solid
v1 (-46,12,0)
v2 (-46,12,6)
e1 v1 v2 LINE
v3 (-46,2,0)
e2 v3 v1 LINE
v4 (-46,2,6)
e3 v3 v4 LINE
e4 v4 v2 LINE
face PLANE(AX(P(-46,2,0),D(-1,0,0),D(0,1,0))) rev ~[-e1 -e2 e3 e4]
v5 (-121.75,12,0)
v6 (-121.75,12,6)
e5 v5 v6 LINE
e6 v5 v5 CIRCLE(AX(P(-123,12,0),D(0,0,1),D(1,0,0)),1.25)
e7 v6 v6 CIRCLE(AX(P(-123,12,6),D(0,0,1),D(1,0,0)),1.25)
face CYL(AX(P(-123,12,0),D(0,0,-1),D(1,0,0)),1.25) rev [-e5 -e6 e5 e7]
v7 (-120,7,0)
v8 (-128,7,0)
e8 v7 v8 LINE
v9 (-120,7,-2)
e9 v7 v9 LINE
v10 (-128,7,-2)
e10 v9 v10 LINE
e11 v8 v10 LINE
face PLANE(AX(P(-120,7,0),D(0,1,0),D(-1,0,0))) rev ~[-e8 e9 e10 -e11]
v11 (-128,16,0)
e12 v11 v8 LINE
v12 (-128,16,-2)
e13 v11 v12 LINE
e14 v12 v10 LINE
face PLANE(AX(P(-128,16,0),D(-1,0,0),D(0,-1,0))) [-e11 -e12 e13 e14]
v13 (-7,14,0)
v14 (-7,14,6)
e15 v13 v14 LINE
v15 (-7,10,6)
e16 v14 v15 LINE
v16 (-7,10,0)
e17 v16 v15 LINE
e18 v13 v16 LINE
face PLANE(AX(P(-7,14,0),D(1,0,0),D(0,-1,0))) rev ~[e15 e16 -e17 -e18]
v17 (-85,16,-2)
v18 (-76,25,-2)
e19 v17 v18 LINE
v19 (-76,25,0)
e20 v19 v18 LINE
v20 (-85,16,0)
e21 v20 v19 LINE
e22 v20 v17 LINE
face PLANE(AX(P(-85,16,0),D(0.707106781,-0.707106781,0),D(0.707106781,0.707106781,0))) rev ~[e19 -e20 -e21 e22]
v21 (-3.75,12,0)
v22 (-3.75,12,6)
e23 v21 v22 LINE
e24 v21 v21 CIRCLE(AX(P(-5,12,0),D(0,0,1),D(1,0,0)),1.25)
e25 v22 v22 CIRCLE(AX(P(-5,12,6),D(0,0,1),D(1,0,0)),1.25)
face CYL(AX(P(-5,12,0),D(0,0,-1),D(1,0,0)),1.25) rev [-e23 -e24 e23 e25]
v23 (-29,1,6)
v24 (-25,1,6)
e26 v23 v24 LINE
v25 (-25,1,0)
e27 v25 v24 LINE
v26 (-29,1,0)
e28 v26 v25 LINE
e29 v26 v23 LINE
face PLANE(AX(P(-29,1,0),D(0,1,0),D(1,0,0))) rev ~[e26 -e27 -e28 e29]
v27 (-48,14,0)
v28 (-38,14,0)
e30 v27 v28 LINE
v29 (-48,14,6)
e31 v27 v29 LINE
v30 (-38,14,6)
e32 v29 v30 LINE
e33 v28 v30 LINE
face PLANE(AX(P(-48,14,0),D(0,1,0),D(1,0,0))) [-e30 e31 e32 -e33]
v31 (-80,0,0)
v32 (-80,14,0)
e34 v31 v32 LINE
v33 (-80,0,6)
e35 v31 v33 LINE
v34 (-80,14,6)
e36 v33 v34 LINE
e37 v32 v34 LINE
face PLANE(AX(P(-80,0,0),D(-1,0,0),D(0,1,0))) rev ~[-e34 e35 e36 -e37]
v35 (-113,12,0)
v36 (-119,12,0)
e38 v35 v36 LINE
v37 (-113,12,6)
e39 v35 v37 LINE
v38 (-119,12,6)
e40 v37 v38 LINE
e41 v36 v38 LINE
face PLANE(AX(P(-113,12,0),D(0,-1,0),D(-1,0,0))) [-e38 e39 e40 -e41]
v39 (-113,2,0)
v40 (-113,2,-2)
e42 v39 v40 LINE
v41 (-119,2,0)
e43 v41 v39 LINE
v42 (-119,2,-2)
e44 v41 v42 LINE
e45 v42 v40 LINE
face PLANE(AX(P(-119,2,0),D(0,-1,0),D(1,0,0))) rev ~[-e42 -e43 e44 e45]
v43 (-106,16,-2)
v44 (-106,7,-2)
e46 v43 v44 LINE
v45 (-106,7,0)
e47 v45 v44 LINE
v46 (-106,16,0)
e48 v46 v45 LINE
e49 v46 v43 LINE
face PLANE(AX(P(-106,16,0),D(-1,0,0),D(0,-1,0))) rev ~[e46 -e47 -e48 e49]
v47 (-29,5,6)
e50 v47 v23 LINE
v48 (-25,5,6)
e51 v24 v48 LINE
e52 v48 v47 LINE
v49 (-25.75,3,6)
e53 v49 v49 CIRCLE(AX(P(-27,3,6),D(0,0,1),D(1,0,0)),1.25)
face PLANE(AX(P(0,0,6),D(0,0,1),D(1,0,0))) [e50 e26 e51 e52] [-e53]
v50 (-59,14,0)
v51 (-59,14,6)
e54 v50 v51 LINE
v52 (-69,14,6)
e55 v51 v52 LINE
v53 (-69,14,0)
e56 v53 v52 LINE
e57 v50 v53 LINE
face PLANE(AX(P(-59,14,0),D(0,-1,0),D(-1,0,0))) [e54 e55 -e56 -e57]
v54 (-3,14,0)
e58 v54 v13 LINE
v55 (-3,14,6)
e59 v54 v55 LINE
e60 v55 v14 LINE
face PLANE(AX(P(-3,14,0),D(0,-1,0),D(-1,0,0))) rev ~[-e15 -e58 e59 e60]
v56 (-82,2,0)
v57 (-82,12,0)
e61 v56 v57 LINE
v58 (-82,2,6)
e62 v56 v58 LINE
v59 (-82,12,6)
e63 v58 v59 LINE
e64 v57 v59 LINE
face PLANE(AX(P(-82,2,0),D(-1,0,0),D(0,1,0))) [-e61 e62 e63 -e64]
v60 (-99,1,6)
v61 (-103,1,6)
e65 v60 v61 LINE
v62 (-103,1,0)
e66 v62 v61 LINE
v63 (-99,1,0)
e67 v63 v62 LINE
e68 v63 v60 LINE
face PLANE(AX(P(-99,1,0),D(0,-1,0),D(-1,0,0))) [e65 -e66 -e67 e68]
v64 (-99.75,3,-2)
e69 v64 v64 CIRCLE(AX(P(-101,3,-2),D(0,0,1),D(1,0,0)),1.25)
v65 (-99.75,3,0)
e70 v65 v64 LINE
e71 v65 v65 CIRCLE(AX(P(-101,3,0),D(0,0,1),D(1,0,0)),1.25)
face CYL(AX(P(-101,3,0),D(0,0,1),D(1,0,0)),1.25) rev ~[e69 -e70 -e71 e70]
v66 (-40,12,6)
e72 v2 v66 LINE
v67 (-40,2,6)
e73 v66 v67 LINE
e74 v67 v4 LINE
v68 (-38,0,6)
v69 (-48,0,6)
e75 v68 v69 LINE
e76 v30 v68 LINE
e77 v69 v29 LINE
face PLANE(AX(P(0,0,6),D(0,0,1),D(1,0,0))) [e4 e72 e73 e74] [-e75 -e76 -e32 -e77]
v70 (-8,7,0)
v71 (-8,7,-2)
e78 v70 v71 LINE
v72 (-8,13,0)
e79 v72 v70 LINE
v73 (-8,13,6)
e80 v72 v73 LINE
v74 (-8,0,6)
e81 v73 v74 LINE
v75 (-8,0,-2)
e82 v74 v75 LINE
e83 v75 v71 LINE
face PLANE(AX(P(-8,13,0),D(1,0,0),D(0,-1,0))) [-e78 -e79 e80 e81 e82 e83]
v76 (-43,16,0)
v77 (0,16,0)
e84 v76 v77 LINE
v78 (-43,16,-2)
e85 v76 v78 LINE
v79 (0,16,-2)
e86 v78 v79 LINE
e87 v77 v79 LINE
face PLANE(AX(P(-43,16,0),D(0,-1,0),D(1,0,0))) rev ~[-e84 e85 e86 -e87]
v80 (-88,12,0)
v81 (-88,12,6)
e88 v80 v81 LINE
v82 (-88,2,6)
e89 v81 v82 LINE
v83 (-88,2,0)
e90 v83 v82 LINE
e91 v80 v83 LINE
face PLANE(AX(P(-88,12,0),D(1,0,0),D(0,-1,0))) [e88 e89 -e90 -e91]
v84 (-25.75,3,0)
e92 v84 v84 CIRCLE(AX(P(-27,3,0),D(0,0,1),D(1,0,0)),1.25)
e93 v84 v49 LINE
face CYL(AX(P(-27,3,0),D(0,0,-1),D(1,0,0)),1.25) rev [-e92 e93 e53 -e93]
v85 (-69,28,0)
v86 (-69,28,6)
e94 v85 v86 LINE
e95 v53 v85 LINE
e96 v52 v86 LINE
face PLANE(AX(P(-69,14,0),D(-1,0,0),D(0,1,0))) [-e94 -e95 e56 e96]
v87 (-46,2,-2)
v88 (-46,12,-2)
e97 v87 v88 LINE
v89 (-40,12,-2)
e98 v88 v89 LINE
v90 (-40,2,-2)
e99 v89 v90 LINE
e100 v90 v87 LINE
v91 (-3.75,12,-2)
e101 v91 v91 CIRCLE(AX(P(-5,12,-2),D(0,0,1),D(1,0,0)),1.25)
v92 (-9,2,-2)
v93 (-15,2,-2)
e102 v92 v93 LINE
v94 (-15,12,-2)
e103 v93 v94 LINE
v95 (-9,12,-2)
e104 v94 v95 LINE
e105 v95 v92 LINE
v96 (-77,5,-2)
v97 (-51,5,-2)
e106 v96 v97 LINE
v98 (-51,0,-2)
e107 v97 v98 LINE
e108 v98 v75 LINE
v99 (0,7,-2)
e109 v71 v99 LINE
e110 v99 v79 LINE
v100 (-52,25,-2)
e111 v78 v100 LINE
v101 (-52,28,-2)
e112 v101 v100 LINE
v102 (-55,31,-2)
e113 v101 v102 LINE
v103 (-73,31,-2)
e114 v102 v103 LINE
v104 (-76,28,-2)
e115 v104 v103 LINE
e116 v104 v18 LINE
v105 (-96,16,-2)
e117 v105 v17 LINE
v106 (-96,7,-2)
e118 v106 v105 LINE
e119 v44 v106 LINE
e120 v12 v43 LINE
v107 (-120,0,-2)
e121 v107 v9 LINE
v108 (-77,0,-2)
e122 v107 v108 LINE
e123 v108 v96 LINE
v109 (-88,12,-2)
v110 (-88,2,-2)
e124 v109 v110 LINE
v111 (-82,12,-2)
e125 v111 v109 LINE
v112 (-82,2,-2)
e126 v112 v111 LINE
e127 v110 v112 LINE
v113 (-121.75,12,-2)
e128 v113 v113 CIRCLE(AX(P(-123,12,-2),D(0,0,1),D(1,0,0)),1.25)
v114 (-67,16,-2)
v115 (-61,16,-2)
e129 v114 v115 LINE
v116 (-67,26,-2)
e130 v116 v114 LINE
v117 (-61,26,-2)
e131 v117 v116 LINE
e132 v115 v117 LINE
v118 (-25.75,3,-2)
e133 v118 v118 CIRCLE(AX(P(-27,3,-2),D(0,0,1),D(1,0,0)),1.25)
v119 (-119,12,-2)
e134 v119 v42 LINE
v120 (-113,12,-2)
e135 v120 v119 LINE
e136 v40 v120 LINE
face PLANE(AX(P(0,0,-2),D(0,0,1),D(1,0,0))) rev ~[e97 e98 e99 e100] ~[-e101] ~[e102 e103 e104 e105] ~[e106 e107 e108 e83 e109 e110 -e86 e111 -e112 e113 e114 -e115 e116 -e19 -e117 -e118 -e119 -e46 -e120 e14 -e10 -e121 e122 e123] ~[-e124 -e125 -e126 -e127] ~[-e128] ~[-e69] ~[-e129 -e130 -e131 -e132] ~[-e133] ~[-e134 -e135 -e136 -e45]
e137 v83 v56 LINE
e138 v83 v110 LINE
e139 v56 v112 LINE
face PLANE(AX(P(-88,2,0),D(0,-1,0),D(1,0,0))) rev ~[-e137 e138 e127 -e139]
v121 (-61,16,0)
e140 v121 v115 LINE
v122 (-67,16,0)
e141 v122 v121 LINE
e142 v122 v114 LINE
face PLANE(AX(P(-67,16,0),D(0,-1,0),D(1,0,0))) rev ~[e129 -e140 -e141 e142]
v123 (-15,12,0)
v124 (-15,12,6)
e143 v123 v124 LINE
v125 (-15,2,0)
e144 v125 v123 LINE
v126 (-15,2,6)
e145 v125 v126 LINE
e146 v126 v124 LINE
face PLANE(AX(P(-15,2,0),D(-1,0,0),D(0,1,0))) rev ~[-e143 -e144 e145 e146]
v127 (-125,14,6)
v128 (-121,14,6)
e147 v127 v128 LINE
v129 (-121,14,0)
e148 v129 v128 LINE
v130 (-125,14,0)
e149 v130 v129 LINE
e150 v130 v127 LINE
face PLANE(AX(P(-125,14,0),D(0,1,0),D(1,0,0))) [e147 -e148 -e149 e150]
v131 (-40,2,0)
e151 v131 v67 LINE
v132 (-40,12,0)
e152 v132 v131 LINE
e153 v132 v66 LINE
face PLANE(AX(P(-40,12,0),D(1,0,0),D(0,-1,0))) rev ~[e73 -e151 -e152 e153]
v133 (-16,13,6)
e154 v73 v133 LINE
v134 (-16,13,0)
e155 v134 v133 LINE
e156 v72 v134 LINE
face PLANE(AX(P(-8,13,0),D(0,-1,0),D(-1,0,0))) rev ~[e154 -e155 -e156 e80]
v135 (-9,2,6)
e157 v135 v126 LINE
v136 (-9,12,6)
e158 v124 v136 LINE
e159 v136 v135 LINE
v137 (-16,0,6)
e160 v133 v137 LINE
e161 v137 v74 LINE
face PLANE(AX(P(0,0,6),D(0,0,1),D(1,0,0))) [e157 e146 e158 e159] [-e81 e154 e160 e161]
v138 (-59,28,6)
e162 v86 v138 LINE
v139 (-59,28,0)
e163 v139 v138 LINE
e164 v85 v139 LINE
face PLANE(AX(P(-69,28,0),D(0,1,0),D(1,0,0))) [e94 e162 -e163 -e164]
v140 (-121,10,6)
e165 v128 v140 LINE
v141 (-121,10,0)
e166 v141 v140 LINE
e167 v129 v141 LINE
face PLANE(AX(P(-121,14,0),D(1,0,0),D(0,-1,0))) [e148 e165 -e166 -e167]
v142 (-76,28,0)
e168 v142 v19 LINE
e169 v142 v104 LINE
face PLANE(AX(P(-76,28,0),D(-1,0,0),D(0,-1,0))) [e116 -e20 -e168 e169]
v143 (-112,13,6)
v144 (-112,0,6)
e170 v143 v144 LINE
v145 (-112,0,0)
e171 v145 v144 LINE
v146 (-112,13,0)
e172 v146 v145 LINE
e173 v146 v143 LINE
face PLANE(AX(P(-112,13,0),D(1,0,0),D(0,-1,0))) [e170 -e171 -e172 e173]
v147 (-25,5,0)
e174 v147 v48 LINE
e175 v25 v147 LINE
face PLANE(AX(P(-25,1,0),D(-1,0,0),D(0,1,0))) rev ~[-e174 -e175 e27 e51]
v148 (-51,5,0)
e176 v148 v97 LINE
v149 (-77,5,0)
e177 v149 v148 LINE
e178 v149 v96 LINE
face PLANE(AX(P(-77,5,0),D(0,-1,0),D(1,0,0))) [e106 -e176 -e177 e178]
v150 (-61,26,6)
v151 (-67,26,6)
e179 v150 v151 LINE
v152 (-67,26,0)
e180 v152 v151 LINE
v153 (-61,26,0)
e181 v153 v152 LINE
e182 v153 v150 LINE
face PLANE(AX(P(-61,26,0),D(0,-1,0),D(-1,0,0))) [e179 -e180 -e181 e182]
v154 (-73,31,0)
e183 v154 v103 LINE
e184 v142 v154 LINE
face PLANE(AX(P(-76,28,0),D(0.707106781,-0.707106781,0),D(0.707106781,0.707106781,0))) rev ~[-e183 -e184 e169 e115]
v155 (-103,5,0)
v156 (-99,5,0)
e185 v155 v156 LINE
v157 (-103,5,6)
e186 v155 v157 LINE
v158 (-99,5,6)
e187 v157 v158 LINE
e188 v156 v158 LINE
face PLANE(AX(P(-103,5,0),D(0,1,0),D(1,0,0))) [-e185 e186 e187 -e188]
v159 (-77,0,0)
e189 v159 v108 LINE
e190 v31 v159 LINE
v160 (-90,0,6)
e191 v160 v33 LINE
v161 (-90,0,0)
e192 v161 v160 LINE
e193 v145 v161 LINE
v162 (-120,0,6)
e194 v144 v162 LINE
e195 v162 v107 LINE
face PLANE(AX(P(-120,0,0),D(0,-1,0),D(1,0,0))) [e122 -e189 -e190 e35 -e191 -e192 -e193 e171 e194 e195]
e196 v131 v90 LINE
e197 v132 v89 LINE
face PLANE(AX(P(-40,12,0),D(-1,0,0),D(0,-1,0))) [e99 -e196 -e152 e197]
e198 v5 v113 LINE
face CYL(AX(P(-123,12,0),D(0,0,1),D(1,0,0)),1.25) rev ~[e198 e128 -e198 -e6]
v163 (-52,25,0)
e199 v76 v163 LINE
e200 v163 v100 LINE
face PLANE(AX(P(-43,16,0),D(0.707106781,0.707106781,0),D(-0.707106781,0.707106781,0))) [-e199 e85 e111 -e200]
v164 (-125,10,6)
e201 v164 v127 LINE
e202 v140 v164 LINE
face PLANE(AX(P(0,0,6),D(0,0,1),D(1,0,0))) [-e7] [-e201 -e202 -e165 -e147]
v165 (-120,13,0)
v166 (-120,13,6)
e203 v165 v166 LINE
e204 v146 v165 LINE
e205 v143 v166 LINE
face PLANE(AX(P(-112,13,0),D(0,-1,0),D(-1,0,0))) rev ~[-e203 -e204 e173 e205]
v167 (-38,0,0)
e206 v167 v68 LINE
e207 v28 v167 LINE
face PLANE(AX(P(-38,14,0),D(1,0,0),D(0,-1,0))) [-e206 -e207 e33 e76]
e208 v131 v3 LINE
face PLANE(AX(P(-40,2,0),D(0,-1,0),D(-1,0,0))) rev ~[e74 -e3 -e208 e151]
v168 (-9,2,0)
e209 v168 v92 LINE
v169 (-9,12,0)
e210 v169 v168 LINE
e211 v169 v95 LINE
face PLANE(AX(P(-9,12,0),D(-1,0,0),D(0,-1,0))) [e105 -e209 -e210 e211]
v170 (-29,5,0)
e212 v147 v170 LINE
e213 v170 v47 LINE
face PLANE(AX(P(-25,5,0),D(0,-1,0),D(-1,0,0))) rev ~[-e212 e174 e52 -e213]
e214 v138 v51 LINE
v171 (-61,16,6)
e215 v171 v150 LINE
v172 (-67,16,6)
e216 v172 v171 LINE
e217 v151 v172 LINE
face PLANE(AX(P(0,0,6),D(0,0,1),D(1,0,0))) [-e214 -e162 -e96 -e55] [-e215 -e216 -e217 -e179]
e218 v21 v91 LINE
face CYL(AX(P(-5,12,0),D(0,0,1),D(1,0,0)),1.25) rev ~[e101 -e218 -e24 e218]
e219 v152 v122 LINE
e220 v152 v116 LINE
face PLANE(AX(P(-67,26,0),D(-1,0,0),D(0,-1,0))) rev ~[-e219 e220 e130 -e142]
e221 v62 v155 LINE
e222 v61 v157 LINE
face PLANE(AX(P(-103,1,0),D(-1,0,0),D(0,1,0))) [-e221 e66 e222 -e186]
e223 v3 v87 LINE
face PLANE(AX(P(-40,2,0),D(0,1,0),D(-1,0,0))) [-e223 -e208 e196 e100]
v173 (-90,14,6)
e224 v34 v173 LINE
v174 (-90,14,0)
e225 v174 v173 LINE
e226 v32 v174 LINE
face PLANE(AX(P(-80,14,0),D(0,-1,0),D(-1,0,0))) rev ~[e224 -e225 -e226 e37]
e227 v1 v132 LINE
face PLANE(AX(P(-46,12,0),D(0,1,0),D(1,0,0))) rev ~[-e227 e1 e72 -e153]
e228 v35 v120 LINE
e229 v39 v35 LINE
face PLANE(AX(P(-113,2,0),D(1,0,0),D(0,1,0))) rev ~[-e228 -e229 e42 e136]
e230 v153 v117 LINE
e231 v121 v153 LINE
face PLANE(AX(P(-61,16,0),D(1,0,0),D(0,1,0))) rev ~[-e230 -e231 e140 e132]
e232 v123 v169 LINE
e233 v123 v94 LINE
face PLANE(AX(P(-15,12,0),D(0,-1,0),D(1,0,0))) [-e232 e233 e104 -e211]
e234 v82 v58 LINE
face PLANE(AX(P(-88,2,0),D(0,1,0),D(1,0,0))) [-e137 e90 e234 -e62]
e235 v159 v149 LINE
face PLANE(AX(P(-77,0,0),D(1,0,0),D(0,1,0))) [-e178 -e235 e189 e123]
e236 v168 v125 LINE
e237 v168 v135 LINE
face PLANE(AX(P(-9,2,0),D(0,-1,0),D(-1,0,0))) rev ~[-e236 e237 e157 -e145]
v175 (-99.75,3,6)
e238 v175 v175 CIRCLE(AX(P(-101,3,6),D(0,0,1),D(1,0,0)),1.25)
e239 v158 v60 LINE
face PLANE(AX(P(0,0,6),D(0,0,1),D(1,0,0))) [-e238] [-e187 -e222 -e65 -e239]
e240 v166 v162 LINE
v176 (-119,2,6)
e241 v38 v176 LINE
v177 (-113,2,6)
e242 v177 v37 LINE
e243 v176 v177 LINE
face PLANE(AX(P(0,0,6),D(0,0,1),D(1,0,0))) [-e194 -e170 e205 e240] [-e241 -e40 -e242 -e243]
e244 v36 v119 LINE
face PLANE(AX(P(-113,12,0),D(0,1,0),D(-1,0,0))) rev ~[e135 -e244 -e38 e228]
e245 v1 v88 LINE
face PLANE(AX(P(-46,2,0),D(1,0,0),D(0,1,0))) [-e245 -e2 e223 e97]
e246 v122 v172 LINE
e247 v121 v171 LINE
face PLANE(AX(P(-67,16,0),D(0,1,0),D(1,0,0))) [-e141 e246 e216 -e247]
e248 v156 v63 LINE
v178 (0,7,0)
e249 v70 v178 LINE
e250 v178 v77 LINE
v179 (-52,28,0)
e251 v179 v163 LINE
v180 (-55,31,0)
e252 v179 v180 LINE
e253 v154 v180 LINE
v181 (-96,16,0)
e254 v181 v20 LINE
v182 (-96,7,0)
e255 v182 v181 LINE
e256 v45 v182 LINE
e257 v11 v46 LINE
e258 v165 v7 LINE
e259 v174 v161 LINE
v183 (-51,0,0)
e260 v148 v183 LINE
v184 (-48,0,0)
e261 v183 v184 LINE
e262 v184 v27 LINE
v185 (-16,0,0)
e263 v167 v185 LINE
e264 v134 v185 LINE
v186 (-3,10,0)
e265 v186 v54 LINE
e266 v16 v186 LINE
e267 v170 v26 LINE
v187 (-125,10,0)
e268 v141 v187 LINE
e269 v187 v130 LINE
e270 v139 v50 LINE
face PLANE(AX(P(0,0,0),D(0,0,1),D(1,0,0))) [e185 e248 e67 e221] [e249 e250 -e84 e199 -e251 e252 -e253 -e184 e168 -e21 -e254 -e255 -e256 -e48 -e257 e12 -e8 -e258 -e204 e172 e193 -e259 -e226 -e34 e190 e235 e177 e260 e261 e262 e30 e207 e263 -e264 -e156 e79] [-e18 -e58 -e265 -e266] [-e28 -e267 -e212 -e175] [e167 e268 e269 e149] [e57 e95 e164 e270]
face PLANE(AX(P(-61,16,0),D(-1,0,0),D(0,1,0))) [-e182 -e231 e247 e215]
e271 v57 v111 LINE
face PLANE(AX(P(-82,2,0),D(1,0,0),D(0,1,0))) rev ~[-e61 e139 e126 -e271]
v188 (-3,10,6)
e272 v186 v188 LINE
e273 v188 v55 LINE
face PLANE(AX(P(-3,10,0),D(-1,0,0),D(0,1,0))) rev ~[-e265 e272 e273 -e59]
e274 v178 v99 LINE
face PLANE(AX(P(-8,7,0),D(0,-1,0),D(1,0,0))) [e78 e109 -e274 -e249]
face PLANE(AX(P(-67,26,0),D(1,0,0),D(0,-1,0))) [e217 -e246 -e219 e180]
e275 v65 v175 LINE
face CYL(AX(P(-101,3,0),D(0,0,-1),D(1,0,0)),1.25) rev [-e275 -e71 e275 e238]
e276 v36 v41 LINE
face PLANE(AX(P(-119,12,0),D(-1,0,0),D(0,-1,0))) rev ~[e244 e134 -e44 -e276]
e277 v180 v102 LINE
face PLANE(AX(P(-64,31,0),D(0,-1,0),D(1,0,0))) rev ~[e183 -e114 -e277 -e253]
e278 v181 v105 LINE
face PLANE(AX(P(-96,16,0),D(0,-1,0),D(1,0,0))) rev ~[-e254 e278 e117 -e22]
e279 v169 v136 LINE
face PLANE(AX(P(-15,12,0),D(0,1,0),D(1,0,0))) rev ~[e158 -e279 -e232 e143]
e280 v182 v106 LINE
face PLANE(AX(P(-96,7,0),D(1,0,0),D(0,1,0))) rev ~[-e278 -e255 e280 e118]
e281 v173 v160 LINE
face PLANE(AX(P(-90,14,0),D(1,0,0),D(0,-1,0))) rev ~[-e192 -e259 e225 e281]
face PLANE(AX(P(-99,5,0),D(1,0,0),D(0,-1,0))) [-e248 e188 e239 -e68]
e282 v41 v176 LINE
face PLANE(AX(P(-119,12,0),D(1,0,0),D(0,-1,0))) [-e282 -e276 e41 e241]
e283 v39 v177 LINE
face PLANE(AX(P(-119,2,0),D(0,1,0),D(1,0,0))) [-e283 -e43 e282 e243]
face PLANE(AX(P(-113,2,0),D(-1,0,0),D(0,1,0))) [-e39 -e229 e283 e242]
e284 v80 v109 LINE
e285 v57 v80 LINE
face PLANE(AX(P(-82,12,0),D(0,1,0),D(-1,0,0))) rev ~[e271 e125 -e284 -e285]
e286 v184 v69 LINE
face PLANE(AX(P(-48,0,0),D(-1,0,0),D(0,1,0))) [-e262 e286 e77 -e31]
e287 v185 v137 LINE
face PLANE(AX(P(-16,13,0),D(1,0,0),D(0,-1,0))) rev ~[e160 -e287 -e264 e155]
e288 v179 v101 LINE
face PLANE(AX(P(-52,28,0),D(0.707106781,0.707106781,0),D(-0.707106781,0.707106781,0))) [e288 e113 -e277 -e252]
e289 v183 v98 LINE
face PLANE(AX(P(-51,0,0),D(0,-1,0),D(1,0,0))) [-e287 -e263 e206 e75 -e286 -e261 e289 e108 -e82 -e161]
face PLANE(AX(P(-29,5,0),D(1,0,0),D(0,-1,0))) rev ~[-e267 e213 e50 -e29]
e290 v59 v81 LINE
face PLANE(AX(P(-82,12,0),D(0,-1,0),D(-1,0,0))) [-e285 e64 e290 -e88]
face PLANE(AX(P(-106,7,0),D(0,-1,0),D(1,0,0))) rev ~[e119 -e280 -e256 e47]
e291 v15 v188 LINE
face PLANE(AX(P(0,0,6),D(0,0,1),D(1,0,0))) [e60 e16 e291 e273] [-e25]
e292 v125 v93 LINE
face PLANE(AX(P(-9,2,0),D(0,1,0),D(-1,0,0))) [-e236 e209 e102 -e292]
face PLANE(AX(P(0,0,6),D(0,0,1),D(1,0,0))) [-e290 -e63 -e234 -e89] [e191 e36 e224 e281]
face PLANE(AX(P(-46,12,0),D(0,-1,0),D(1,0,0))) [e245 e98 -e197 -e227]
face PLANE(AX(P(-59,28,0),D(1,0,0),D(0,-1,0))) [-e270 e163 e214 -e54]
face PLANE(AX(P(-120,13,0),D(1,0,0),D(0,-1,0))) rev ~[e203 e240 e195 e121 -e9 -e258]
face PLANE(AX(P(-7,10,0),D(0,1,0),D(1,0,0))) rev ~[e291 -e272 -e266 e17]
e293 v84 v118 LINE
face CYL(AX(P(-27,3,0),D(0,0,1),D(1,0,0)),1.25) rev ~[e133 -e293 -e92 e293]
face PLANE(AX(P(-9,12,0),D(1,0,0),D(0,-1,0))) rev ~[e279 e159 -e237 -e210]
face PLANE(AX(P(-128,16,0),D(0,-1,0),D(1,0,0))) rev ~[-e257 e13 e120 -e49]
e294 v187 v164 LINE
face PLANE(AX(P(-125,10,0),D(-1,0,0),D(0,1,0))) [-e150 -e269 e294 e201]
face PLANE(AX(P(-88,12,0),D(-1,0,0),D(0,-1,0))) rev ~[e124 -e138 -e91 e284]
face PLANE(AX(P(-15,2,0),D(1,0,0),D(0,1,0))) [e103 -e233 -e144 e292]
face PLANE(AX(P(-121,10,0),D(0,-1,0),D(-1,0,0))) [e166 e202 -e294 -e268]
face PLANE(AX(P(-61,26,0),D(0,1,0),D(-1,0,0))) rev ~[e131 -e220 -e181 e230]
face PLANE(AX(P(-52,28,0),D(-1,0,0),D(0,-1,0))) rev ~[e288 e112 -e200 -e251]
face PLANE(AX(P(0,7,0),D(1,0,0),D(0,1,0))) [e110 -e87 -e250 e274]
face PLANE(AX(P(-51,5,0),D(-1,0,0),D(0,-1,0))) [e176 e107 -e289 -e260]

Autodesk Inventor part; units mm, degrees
ref_plane "YZ Plane" through (0, 0, 0) normal (1, 0, 0) x (0, 1, 0)
ref_plane "XZ Plane" through (0, 0, 0) normal (0, 1, 0) x (-1, 0, 0)
ref_plane "XY Plane" through (0, 0, 0) normal (0, 0, 1) x (1, 0, 0)
sketch "Sketch1" plane through (0, 0, 0) normal (0, 0, 1) x (1, 0, 0)
  line L0 (-64, 31) -> (-73, 31)
  line L1 (-76, 28) -> (-76, 25)
  line L2 (-85, 16) -> (-76, 25)
  line L3 (-76, 28) -> (-73, 31)
  line L4 (-64, 31) -> (-55, 31)
  line L5 (-52, 28) -> (-52, 25)
  line L6 (-43, 16) -> (-52, 25)
  line L7 (-52, 28) -> (-55, 31)
  line L8 (-43, 16) -> (0, 16)
  line L9 (-77, 0) -> (-77, 5)
  line L10 (-77, 5) -> (-51, 5)
  line L11 (-51, 5) -> (-51, 0)
  line L12 (-106, 16) -> (-106, 7)
  line L13 (-106, 7) -> (-96, 7)
  line L14 (-96, 7) -> (-96, 16)
  line L15 (-128, 16) -> (-106, 16)
  line L16 (-96, 16) -> (-85, 16)
  line L17 (-120, 0) -> (-120, 7)
  line L18 (-120, 7) -> (-128, 7)
  line L19 (-120, 0) -> (-77, 0)
  line L20 (-128, 16) -> (-128, 7)
  line L21 (-8, 0) -> (-8, 7)
  line L22 (-8, 7) -> (0, 7)
  line L23 (-51, 0) -> (-8, 0)
  line L24 (0, 7) -> (0, 16)
  point P0 (0, 0)
  dimension "d0" = 128
  dimension "d6" = 3
  dimension "d67" = 5
  dimension "d71" = 22
  dimension "d74" = 9
  dimension "d75" = 10
  dimension "d93" = 7
  dimension "d94" = 8
  dimension "d95" = 7
extrude "Extrusion1" add sketch "Sketch1" against normal blind 2
sketch "Sketch2" plane through (0, 0, 0) normal (0, 0, 1) x (1, 0, 0)
  line L0 (-119, 2) -> (-113, 2)
  line L1 (-113, 2) -> (-113, 12)
  line L2 (-113, 12) -> (-119, 12)
  line L3 (-119, 12) -> (-119, 2)
  line L4 (-121, 10) -> (-125, 10)
  line L5 (-125, 10) -> (-125, 14)
  line L6 (-125, 14) -> (-121, 14)
  line L7 (-121, 14) -> (-121, 10)
  line L8 (-88, 2) -> (-82, 2)
  line L9 (-82, 2) -> (-82, 12)
  line L10 (-82, 12) -> (-88, 12)
  line L11 (-88, 12) -> (-88, 2)
  line L12 (-90, 0) -> (-80, 0)
  line L13 (-80, 0) -> (-80, 14)
  line L14 (-80, 14) -> (-90, 14)
  line L15 (-90, 14) -> (-90, 0)
  line L16 (-99, 1) -> (-103, 1)
  line L17 (-103, 1) -> (-103, 5)
  line L18 (-103, 5) -> (-99, 5)
  line L19 (-99, 5) -> (-99, 1)
  line L20 (-61, 26) -> (-67, 26)
  line L21 (-67, 26) -> (-67, 16)
  line L22 (-67, 16) -> (-61, 16)
  line L23 (-61, 16) -> (-61, 26)
  line L24 (-59, 14) -> (-69, 14)
  line L25 (-69, 14) -> (-69, 28)
  line L26 (-69, 28) -> (-59, 28)
  line L27 (-59, 28) -> (-59, 14)
  line L28 (-9, 2) -> (-15, 2)
  line L29 (-15, 2) -> (-15, 12)
  line L30 (-15, 12) -> (-9, 12)
  line L31 (-9, 12) -> (-9, 2)
  line L32 (-7, 10) -> (-3, 10)
  line L33 (-3, 10) -> (-3, 14)
  line L34 (-3, 14) -> (-7, 14)
  line L35 (-7, 14) -> (-7, 10)
  line L36 (-40, 2) -> (-46, 2)
  line L37 (-46, 2) -> (-46, 12)
  line L38 (-46, 12) -> (-40, 12)
  line L39 (-40, 12) -> (-40, 2)
  line L40 (-38, 0) -> (-48, 0)
  line L41 (-48, 0) -> (-48, 14)
  line L42 (-48, 14) -> (-38, 14)
  line L43 (-38, 14) -> (-38, 0)
  line L44 (-29, 1) -> (-25, 1)
  line L45 (-25, 1) -> (-25, 5)
  line L46 (-25, 5) -> (-29, 5)
  line L47 (-29, 5) -> (-29, 1)
  line L48 (-112, 13) -> (-120, 13)
  line L49 (-8, 13) -> (-16, 13)
  line L50 (-120, 13) -> (-120, 0)
  line L51 (-112, 13) -> (-112, 0)
  line L52 (-16, 13) -> (-16, 0)
  line L53 (-8, 13) -> (-8, 0)
  circle A0 centre (-123, 12) radius 1.25
  circle A1 centre (-101, 3) radius 1.25
  circle A2 centre (-27, 3) radius 1.25
  circle A3 centre (-5, 12) radius 1.25
  line L54 (-120, 0) -> (-112, 0)
  line L55 (-16, 0) -> (-8, 0)
  dimension "d12" = 6
  dimension "d13" = 10
  dimension "d21" = 6
  dimension "d22" = 10
  dimension "d23" = 2
  dimension "d29" = 6
  dimension "d30" = 10
  dimension "d31" = 2
  dimension "d48" = 1
  dimension "d49" = 2.5
  dimension "d50" = 2.5
  dimension "d51" = 2.5
  dimension "d52" = 2.5
  dimension "d69" = 13
sketch "Sketch10" plane through (0, 0, 0) normal (0, 0, 1) x (1, 0, 0)
  line L0 (-119, 2) -> (-113, 2)
  line L1 (-113, 2) -> (-113, 12)
  line L2 (-113, 12) -> (-119, 12)
  line L3 (-119, 12) -> (-119, 2)
  line L4 (-121, 10) -> (-125, 10)
  line L5 (-125, 10) -> (-125, 14)
  line L6 (-125, 14) -> (-121, 14)
  line L7 (-121, 14) -> (-121, 10)
  line L8 (-88, 2) -> (-82, 2)
  line L9 (-82, 2) -> (-82, 12)
  line L10 (-82, 12) -> (-88, 12)
  line L11 (-88, 12) -> (-88, 2)
  line L12 (-90, 0) -> (-80, 0)
  line L13 (-80, 0) -> (-80, 14)
  line L14 (-80, 14) -> (-90, 14)
  line L15 (-90, 14) -> (-90, 0)
  line L16 (-99, 1) -> (-103, 1)
  line L17 (-103, 1) -> (-103, 5)
  line L18 (-103, 5) -> (-99, 5)
  line L19 (-99, 5) -> (-99, 1)
  line L20 (-61, 26) -> (-67, 26)
  line L21 (-67, 26) -> (-67, 16)
  line L22 (-67, 16) -> (-61, 16)
  line L23 (-61, 16) -> (-61, 26)
  line L24 (-59, 14) -> (-69, 14)
  line L25 (-69, 14) -> (-69, 28)
  line L26 (-69, 28) -> (-59, 28)
  line L27 (-59, 28) -> (-59, 14)
  line L28 (-25, 1) -> (-25, 5)
  line L29 (-9, 2) -> (-15, 2)
  line L30 (-15, 2) -> (-15, 12)
  line L31 (-15, 12) -> (-9, 12)
  line L32 (-9, 12) -> (-9, 2)
  line L33 (-7, 14) -> (-7, 10)
  line L34 (-7, 10) -> (-3, 10)
  line L35 (-3, 10) -> (-3, 14)
  line L36 (-3, 14) -> (-7, 14)
  line L37 (-29, 1) -> (-25, 1)
  line L38 (-25, 5) -> (-29, 5)
  line L39 (-29, 5) -> (-29, 1)
  line L40 (-38, 14) -> (-38, 0)
  line L41 (-40, 12) -> (-40, 2)
  line L42 (-40, 2) -> (-46, 2)
  line L43 (-46, 12) -> (-40, 12)
  line L44 (-46, 2) -> (-46, 12)
  line L45 (-48, 14) -> (-38, 14)
  line L46 (-48, 0) -> (-48, 14)
  line L47 (-38, 0) -> (-48, 0)
  line L48 (-112, 13) -> (-120, 13)
  line L49 (-8, 13) -> (-16, 13)
  circle A0 centre (-123, 12) radius 1.25
  circle A1 centre (-101, 3) radius 1.25
  circle A2 centre (-27, 3) radius 1.25
  circle A3 centre (-5, 12) radius 1.25
  line L50 (-120, 13) -> (-120, 0)
  line L51 (-112, 13) -> (-112, 0)
  line L52 (-112, 0) -> (-120, 0)
  line L53 (-16, 13) -> (-16, 0)
  line L54 (-16, 0) -> (-8, 0)
  line L55 (-8, 13) -> (-8, 0)
  point P0 (-100.5385, 17.107)
  point P1 (-110.5385, 3.107)
  point P2 (-100.5385, 3.107)
  point P3 (-141.5385, 3.107)
  point P4 (-131.5385, 3.107)
  point P5 (-183.5385, 3.107)
  point P6 (-173.5385, 3.107)
  point P7 (-214.5385, 3.107)
  point P8 (-204.5385, 3.107)
  point P9 (-214.5385, 17.107)
  point P10 (0, 16)
  point P11 (0, 0)
  dimension "d53" = 6
  dimension "d54" = 10
  dimension "d55" = 6
  dimension "d56" = 10
  dimension "d57" = 2
  dimension "d58" = 6
  dimension "d59" = 10
  dimension "d60" = 2
  dimension "d61" = 1
  dimension "d62" = 2.5
  dimension "d63" = 2.5
  dimension "d64" = 2.5
  dimension "d65" = 2.5
extrude "Extrusion2" cut sketch "Sketch2" against normal blind 2 contours L3 L2 L1 L0 | L11 L10 L9 L8 | L23 L22 L21 L20 | L28 L29 L30 L31 | L36 L37 L38 L39 | A0 | A1 | A2 | A3
extrude "Extrusion7" add sketch "Sketch10" along normal blind 6
properties part number "Infravermelhos_revisto_2"
